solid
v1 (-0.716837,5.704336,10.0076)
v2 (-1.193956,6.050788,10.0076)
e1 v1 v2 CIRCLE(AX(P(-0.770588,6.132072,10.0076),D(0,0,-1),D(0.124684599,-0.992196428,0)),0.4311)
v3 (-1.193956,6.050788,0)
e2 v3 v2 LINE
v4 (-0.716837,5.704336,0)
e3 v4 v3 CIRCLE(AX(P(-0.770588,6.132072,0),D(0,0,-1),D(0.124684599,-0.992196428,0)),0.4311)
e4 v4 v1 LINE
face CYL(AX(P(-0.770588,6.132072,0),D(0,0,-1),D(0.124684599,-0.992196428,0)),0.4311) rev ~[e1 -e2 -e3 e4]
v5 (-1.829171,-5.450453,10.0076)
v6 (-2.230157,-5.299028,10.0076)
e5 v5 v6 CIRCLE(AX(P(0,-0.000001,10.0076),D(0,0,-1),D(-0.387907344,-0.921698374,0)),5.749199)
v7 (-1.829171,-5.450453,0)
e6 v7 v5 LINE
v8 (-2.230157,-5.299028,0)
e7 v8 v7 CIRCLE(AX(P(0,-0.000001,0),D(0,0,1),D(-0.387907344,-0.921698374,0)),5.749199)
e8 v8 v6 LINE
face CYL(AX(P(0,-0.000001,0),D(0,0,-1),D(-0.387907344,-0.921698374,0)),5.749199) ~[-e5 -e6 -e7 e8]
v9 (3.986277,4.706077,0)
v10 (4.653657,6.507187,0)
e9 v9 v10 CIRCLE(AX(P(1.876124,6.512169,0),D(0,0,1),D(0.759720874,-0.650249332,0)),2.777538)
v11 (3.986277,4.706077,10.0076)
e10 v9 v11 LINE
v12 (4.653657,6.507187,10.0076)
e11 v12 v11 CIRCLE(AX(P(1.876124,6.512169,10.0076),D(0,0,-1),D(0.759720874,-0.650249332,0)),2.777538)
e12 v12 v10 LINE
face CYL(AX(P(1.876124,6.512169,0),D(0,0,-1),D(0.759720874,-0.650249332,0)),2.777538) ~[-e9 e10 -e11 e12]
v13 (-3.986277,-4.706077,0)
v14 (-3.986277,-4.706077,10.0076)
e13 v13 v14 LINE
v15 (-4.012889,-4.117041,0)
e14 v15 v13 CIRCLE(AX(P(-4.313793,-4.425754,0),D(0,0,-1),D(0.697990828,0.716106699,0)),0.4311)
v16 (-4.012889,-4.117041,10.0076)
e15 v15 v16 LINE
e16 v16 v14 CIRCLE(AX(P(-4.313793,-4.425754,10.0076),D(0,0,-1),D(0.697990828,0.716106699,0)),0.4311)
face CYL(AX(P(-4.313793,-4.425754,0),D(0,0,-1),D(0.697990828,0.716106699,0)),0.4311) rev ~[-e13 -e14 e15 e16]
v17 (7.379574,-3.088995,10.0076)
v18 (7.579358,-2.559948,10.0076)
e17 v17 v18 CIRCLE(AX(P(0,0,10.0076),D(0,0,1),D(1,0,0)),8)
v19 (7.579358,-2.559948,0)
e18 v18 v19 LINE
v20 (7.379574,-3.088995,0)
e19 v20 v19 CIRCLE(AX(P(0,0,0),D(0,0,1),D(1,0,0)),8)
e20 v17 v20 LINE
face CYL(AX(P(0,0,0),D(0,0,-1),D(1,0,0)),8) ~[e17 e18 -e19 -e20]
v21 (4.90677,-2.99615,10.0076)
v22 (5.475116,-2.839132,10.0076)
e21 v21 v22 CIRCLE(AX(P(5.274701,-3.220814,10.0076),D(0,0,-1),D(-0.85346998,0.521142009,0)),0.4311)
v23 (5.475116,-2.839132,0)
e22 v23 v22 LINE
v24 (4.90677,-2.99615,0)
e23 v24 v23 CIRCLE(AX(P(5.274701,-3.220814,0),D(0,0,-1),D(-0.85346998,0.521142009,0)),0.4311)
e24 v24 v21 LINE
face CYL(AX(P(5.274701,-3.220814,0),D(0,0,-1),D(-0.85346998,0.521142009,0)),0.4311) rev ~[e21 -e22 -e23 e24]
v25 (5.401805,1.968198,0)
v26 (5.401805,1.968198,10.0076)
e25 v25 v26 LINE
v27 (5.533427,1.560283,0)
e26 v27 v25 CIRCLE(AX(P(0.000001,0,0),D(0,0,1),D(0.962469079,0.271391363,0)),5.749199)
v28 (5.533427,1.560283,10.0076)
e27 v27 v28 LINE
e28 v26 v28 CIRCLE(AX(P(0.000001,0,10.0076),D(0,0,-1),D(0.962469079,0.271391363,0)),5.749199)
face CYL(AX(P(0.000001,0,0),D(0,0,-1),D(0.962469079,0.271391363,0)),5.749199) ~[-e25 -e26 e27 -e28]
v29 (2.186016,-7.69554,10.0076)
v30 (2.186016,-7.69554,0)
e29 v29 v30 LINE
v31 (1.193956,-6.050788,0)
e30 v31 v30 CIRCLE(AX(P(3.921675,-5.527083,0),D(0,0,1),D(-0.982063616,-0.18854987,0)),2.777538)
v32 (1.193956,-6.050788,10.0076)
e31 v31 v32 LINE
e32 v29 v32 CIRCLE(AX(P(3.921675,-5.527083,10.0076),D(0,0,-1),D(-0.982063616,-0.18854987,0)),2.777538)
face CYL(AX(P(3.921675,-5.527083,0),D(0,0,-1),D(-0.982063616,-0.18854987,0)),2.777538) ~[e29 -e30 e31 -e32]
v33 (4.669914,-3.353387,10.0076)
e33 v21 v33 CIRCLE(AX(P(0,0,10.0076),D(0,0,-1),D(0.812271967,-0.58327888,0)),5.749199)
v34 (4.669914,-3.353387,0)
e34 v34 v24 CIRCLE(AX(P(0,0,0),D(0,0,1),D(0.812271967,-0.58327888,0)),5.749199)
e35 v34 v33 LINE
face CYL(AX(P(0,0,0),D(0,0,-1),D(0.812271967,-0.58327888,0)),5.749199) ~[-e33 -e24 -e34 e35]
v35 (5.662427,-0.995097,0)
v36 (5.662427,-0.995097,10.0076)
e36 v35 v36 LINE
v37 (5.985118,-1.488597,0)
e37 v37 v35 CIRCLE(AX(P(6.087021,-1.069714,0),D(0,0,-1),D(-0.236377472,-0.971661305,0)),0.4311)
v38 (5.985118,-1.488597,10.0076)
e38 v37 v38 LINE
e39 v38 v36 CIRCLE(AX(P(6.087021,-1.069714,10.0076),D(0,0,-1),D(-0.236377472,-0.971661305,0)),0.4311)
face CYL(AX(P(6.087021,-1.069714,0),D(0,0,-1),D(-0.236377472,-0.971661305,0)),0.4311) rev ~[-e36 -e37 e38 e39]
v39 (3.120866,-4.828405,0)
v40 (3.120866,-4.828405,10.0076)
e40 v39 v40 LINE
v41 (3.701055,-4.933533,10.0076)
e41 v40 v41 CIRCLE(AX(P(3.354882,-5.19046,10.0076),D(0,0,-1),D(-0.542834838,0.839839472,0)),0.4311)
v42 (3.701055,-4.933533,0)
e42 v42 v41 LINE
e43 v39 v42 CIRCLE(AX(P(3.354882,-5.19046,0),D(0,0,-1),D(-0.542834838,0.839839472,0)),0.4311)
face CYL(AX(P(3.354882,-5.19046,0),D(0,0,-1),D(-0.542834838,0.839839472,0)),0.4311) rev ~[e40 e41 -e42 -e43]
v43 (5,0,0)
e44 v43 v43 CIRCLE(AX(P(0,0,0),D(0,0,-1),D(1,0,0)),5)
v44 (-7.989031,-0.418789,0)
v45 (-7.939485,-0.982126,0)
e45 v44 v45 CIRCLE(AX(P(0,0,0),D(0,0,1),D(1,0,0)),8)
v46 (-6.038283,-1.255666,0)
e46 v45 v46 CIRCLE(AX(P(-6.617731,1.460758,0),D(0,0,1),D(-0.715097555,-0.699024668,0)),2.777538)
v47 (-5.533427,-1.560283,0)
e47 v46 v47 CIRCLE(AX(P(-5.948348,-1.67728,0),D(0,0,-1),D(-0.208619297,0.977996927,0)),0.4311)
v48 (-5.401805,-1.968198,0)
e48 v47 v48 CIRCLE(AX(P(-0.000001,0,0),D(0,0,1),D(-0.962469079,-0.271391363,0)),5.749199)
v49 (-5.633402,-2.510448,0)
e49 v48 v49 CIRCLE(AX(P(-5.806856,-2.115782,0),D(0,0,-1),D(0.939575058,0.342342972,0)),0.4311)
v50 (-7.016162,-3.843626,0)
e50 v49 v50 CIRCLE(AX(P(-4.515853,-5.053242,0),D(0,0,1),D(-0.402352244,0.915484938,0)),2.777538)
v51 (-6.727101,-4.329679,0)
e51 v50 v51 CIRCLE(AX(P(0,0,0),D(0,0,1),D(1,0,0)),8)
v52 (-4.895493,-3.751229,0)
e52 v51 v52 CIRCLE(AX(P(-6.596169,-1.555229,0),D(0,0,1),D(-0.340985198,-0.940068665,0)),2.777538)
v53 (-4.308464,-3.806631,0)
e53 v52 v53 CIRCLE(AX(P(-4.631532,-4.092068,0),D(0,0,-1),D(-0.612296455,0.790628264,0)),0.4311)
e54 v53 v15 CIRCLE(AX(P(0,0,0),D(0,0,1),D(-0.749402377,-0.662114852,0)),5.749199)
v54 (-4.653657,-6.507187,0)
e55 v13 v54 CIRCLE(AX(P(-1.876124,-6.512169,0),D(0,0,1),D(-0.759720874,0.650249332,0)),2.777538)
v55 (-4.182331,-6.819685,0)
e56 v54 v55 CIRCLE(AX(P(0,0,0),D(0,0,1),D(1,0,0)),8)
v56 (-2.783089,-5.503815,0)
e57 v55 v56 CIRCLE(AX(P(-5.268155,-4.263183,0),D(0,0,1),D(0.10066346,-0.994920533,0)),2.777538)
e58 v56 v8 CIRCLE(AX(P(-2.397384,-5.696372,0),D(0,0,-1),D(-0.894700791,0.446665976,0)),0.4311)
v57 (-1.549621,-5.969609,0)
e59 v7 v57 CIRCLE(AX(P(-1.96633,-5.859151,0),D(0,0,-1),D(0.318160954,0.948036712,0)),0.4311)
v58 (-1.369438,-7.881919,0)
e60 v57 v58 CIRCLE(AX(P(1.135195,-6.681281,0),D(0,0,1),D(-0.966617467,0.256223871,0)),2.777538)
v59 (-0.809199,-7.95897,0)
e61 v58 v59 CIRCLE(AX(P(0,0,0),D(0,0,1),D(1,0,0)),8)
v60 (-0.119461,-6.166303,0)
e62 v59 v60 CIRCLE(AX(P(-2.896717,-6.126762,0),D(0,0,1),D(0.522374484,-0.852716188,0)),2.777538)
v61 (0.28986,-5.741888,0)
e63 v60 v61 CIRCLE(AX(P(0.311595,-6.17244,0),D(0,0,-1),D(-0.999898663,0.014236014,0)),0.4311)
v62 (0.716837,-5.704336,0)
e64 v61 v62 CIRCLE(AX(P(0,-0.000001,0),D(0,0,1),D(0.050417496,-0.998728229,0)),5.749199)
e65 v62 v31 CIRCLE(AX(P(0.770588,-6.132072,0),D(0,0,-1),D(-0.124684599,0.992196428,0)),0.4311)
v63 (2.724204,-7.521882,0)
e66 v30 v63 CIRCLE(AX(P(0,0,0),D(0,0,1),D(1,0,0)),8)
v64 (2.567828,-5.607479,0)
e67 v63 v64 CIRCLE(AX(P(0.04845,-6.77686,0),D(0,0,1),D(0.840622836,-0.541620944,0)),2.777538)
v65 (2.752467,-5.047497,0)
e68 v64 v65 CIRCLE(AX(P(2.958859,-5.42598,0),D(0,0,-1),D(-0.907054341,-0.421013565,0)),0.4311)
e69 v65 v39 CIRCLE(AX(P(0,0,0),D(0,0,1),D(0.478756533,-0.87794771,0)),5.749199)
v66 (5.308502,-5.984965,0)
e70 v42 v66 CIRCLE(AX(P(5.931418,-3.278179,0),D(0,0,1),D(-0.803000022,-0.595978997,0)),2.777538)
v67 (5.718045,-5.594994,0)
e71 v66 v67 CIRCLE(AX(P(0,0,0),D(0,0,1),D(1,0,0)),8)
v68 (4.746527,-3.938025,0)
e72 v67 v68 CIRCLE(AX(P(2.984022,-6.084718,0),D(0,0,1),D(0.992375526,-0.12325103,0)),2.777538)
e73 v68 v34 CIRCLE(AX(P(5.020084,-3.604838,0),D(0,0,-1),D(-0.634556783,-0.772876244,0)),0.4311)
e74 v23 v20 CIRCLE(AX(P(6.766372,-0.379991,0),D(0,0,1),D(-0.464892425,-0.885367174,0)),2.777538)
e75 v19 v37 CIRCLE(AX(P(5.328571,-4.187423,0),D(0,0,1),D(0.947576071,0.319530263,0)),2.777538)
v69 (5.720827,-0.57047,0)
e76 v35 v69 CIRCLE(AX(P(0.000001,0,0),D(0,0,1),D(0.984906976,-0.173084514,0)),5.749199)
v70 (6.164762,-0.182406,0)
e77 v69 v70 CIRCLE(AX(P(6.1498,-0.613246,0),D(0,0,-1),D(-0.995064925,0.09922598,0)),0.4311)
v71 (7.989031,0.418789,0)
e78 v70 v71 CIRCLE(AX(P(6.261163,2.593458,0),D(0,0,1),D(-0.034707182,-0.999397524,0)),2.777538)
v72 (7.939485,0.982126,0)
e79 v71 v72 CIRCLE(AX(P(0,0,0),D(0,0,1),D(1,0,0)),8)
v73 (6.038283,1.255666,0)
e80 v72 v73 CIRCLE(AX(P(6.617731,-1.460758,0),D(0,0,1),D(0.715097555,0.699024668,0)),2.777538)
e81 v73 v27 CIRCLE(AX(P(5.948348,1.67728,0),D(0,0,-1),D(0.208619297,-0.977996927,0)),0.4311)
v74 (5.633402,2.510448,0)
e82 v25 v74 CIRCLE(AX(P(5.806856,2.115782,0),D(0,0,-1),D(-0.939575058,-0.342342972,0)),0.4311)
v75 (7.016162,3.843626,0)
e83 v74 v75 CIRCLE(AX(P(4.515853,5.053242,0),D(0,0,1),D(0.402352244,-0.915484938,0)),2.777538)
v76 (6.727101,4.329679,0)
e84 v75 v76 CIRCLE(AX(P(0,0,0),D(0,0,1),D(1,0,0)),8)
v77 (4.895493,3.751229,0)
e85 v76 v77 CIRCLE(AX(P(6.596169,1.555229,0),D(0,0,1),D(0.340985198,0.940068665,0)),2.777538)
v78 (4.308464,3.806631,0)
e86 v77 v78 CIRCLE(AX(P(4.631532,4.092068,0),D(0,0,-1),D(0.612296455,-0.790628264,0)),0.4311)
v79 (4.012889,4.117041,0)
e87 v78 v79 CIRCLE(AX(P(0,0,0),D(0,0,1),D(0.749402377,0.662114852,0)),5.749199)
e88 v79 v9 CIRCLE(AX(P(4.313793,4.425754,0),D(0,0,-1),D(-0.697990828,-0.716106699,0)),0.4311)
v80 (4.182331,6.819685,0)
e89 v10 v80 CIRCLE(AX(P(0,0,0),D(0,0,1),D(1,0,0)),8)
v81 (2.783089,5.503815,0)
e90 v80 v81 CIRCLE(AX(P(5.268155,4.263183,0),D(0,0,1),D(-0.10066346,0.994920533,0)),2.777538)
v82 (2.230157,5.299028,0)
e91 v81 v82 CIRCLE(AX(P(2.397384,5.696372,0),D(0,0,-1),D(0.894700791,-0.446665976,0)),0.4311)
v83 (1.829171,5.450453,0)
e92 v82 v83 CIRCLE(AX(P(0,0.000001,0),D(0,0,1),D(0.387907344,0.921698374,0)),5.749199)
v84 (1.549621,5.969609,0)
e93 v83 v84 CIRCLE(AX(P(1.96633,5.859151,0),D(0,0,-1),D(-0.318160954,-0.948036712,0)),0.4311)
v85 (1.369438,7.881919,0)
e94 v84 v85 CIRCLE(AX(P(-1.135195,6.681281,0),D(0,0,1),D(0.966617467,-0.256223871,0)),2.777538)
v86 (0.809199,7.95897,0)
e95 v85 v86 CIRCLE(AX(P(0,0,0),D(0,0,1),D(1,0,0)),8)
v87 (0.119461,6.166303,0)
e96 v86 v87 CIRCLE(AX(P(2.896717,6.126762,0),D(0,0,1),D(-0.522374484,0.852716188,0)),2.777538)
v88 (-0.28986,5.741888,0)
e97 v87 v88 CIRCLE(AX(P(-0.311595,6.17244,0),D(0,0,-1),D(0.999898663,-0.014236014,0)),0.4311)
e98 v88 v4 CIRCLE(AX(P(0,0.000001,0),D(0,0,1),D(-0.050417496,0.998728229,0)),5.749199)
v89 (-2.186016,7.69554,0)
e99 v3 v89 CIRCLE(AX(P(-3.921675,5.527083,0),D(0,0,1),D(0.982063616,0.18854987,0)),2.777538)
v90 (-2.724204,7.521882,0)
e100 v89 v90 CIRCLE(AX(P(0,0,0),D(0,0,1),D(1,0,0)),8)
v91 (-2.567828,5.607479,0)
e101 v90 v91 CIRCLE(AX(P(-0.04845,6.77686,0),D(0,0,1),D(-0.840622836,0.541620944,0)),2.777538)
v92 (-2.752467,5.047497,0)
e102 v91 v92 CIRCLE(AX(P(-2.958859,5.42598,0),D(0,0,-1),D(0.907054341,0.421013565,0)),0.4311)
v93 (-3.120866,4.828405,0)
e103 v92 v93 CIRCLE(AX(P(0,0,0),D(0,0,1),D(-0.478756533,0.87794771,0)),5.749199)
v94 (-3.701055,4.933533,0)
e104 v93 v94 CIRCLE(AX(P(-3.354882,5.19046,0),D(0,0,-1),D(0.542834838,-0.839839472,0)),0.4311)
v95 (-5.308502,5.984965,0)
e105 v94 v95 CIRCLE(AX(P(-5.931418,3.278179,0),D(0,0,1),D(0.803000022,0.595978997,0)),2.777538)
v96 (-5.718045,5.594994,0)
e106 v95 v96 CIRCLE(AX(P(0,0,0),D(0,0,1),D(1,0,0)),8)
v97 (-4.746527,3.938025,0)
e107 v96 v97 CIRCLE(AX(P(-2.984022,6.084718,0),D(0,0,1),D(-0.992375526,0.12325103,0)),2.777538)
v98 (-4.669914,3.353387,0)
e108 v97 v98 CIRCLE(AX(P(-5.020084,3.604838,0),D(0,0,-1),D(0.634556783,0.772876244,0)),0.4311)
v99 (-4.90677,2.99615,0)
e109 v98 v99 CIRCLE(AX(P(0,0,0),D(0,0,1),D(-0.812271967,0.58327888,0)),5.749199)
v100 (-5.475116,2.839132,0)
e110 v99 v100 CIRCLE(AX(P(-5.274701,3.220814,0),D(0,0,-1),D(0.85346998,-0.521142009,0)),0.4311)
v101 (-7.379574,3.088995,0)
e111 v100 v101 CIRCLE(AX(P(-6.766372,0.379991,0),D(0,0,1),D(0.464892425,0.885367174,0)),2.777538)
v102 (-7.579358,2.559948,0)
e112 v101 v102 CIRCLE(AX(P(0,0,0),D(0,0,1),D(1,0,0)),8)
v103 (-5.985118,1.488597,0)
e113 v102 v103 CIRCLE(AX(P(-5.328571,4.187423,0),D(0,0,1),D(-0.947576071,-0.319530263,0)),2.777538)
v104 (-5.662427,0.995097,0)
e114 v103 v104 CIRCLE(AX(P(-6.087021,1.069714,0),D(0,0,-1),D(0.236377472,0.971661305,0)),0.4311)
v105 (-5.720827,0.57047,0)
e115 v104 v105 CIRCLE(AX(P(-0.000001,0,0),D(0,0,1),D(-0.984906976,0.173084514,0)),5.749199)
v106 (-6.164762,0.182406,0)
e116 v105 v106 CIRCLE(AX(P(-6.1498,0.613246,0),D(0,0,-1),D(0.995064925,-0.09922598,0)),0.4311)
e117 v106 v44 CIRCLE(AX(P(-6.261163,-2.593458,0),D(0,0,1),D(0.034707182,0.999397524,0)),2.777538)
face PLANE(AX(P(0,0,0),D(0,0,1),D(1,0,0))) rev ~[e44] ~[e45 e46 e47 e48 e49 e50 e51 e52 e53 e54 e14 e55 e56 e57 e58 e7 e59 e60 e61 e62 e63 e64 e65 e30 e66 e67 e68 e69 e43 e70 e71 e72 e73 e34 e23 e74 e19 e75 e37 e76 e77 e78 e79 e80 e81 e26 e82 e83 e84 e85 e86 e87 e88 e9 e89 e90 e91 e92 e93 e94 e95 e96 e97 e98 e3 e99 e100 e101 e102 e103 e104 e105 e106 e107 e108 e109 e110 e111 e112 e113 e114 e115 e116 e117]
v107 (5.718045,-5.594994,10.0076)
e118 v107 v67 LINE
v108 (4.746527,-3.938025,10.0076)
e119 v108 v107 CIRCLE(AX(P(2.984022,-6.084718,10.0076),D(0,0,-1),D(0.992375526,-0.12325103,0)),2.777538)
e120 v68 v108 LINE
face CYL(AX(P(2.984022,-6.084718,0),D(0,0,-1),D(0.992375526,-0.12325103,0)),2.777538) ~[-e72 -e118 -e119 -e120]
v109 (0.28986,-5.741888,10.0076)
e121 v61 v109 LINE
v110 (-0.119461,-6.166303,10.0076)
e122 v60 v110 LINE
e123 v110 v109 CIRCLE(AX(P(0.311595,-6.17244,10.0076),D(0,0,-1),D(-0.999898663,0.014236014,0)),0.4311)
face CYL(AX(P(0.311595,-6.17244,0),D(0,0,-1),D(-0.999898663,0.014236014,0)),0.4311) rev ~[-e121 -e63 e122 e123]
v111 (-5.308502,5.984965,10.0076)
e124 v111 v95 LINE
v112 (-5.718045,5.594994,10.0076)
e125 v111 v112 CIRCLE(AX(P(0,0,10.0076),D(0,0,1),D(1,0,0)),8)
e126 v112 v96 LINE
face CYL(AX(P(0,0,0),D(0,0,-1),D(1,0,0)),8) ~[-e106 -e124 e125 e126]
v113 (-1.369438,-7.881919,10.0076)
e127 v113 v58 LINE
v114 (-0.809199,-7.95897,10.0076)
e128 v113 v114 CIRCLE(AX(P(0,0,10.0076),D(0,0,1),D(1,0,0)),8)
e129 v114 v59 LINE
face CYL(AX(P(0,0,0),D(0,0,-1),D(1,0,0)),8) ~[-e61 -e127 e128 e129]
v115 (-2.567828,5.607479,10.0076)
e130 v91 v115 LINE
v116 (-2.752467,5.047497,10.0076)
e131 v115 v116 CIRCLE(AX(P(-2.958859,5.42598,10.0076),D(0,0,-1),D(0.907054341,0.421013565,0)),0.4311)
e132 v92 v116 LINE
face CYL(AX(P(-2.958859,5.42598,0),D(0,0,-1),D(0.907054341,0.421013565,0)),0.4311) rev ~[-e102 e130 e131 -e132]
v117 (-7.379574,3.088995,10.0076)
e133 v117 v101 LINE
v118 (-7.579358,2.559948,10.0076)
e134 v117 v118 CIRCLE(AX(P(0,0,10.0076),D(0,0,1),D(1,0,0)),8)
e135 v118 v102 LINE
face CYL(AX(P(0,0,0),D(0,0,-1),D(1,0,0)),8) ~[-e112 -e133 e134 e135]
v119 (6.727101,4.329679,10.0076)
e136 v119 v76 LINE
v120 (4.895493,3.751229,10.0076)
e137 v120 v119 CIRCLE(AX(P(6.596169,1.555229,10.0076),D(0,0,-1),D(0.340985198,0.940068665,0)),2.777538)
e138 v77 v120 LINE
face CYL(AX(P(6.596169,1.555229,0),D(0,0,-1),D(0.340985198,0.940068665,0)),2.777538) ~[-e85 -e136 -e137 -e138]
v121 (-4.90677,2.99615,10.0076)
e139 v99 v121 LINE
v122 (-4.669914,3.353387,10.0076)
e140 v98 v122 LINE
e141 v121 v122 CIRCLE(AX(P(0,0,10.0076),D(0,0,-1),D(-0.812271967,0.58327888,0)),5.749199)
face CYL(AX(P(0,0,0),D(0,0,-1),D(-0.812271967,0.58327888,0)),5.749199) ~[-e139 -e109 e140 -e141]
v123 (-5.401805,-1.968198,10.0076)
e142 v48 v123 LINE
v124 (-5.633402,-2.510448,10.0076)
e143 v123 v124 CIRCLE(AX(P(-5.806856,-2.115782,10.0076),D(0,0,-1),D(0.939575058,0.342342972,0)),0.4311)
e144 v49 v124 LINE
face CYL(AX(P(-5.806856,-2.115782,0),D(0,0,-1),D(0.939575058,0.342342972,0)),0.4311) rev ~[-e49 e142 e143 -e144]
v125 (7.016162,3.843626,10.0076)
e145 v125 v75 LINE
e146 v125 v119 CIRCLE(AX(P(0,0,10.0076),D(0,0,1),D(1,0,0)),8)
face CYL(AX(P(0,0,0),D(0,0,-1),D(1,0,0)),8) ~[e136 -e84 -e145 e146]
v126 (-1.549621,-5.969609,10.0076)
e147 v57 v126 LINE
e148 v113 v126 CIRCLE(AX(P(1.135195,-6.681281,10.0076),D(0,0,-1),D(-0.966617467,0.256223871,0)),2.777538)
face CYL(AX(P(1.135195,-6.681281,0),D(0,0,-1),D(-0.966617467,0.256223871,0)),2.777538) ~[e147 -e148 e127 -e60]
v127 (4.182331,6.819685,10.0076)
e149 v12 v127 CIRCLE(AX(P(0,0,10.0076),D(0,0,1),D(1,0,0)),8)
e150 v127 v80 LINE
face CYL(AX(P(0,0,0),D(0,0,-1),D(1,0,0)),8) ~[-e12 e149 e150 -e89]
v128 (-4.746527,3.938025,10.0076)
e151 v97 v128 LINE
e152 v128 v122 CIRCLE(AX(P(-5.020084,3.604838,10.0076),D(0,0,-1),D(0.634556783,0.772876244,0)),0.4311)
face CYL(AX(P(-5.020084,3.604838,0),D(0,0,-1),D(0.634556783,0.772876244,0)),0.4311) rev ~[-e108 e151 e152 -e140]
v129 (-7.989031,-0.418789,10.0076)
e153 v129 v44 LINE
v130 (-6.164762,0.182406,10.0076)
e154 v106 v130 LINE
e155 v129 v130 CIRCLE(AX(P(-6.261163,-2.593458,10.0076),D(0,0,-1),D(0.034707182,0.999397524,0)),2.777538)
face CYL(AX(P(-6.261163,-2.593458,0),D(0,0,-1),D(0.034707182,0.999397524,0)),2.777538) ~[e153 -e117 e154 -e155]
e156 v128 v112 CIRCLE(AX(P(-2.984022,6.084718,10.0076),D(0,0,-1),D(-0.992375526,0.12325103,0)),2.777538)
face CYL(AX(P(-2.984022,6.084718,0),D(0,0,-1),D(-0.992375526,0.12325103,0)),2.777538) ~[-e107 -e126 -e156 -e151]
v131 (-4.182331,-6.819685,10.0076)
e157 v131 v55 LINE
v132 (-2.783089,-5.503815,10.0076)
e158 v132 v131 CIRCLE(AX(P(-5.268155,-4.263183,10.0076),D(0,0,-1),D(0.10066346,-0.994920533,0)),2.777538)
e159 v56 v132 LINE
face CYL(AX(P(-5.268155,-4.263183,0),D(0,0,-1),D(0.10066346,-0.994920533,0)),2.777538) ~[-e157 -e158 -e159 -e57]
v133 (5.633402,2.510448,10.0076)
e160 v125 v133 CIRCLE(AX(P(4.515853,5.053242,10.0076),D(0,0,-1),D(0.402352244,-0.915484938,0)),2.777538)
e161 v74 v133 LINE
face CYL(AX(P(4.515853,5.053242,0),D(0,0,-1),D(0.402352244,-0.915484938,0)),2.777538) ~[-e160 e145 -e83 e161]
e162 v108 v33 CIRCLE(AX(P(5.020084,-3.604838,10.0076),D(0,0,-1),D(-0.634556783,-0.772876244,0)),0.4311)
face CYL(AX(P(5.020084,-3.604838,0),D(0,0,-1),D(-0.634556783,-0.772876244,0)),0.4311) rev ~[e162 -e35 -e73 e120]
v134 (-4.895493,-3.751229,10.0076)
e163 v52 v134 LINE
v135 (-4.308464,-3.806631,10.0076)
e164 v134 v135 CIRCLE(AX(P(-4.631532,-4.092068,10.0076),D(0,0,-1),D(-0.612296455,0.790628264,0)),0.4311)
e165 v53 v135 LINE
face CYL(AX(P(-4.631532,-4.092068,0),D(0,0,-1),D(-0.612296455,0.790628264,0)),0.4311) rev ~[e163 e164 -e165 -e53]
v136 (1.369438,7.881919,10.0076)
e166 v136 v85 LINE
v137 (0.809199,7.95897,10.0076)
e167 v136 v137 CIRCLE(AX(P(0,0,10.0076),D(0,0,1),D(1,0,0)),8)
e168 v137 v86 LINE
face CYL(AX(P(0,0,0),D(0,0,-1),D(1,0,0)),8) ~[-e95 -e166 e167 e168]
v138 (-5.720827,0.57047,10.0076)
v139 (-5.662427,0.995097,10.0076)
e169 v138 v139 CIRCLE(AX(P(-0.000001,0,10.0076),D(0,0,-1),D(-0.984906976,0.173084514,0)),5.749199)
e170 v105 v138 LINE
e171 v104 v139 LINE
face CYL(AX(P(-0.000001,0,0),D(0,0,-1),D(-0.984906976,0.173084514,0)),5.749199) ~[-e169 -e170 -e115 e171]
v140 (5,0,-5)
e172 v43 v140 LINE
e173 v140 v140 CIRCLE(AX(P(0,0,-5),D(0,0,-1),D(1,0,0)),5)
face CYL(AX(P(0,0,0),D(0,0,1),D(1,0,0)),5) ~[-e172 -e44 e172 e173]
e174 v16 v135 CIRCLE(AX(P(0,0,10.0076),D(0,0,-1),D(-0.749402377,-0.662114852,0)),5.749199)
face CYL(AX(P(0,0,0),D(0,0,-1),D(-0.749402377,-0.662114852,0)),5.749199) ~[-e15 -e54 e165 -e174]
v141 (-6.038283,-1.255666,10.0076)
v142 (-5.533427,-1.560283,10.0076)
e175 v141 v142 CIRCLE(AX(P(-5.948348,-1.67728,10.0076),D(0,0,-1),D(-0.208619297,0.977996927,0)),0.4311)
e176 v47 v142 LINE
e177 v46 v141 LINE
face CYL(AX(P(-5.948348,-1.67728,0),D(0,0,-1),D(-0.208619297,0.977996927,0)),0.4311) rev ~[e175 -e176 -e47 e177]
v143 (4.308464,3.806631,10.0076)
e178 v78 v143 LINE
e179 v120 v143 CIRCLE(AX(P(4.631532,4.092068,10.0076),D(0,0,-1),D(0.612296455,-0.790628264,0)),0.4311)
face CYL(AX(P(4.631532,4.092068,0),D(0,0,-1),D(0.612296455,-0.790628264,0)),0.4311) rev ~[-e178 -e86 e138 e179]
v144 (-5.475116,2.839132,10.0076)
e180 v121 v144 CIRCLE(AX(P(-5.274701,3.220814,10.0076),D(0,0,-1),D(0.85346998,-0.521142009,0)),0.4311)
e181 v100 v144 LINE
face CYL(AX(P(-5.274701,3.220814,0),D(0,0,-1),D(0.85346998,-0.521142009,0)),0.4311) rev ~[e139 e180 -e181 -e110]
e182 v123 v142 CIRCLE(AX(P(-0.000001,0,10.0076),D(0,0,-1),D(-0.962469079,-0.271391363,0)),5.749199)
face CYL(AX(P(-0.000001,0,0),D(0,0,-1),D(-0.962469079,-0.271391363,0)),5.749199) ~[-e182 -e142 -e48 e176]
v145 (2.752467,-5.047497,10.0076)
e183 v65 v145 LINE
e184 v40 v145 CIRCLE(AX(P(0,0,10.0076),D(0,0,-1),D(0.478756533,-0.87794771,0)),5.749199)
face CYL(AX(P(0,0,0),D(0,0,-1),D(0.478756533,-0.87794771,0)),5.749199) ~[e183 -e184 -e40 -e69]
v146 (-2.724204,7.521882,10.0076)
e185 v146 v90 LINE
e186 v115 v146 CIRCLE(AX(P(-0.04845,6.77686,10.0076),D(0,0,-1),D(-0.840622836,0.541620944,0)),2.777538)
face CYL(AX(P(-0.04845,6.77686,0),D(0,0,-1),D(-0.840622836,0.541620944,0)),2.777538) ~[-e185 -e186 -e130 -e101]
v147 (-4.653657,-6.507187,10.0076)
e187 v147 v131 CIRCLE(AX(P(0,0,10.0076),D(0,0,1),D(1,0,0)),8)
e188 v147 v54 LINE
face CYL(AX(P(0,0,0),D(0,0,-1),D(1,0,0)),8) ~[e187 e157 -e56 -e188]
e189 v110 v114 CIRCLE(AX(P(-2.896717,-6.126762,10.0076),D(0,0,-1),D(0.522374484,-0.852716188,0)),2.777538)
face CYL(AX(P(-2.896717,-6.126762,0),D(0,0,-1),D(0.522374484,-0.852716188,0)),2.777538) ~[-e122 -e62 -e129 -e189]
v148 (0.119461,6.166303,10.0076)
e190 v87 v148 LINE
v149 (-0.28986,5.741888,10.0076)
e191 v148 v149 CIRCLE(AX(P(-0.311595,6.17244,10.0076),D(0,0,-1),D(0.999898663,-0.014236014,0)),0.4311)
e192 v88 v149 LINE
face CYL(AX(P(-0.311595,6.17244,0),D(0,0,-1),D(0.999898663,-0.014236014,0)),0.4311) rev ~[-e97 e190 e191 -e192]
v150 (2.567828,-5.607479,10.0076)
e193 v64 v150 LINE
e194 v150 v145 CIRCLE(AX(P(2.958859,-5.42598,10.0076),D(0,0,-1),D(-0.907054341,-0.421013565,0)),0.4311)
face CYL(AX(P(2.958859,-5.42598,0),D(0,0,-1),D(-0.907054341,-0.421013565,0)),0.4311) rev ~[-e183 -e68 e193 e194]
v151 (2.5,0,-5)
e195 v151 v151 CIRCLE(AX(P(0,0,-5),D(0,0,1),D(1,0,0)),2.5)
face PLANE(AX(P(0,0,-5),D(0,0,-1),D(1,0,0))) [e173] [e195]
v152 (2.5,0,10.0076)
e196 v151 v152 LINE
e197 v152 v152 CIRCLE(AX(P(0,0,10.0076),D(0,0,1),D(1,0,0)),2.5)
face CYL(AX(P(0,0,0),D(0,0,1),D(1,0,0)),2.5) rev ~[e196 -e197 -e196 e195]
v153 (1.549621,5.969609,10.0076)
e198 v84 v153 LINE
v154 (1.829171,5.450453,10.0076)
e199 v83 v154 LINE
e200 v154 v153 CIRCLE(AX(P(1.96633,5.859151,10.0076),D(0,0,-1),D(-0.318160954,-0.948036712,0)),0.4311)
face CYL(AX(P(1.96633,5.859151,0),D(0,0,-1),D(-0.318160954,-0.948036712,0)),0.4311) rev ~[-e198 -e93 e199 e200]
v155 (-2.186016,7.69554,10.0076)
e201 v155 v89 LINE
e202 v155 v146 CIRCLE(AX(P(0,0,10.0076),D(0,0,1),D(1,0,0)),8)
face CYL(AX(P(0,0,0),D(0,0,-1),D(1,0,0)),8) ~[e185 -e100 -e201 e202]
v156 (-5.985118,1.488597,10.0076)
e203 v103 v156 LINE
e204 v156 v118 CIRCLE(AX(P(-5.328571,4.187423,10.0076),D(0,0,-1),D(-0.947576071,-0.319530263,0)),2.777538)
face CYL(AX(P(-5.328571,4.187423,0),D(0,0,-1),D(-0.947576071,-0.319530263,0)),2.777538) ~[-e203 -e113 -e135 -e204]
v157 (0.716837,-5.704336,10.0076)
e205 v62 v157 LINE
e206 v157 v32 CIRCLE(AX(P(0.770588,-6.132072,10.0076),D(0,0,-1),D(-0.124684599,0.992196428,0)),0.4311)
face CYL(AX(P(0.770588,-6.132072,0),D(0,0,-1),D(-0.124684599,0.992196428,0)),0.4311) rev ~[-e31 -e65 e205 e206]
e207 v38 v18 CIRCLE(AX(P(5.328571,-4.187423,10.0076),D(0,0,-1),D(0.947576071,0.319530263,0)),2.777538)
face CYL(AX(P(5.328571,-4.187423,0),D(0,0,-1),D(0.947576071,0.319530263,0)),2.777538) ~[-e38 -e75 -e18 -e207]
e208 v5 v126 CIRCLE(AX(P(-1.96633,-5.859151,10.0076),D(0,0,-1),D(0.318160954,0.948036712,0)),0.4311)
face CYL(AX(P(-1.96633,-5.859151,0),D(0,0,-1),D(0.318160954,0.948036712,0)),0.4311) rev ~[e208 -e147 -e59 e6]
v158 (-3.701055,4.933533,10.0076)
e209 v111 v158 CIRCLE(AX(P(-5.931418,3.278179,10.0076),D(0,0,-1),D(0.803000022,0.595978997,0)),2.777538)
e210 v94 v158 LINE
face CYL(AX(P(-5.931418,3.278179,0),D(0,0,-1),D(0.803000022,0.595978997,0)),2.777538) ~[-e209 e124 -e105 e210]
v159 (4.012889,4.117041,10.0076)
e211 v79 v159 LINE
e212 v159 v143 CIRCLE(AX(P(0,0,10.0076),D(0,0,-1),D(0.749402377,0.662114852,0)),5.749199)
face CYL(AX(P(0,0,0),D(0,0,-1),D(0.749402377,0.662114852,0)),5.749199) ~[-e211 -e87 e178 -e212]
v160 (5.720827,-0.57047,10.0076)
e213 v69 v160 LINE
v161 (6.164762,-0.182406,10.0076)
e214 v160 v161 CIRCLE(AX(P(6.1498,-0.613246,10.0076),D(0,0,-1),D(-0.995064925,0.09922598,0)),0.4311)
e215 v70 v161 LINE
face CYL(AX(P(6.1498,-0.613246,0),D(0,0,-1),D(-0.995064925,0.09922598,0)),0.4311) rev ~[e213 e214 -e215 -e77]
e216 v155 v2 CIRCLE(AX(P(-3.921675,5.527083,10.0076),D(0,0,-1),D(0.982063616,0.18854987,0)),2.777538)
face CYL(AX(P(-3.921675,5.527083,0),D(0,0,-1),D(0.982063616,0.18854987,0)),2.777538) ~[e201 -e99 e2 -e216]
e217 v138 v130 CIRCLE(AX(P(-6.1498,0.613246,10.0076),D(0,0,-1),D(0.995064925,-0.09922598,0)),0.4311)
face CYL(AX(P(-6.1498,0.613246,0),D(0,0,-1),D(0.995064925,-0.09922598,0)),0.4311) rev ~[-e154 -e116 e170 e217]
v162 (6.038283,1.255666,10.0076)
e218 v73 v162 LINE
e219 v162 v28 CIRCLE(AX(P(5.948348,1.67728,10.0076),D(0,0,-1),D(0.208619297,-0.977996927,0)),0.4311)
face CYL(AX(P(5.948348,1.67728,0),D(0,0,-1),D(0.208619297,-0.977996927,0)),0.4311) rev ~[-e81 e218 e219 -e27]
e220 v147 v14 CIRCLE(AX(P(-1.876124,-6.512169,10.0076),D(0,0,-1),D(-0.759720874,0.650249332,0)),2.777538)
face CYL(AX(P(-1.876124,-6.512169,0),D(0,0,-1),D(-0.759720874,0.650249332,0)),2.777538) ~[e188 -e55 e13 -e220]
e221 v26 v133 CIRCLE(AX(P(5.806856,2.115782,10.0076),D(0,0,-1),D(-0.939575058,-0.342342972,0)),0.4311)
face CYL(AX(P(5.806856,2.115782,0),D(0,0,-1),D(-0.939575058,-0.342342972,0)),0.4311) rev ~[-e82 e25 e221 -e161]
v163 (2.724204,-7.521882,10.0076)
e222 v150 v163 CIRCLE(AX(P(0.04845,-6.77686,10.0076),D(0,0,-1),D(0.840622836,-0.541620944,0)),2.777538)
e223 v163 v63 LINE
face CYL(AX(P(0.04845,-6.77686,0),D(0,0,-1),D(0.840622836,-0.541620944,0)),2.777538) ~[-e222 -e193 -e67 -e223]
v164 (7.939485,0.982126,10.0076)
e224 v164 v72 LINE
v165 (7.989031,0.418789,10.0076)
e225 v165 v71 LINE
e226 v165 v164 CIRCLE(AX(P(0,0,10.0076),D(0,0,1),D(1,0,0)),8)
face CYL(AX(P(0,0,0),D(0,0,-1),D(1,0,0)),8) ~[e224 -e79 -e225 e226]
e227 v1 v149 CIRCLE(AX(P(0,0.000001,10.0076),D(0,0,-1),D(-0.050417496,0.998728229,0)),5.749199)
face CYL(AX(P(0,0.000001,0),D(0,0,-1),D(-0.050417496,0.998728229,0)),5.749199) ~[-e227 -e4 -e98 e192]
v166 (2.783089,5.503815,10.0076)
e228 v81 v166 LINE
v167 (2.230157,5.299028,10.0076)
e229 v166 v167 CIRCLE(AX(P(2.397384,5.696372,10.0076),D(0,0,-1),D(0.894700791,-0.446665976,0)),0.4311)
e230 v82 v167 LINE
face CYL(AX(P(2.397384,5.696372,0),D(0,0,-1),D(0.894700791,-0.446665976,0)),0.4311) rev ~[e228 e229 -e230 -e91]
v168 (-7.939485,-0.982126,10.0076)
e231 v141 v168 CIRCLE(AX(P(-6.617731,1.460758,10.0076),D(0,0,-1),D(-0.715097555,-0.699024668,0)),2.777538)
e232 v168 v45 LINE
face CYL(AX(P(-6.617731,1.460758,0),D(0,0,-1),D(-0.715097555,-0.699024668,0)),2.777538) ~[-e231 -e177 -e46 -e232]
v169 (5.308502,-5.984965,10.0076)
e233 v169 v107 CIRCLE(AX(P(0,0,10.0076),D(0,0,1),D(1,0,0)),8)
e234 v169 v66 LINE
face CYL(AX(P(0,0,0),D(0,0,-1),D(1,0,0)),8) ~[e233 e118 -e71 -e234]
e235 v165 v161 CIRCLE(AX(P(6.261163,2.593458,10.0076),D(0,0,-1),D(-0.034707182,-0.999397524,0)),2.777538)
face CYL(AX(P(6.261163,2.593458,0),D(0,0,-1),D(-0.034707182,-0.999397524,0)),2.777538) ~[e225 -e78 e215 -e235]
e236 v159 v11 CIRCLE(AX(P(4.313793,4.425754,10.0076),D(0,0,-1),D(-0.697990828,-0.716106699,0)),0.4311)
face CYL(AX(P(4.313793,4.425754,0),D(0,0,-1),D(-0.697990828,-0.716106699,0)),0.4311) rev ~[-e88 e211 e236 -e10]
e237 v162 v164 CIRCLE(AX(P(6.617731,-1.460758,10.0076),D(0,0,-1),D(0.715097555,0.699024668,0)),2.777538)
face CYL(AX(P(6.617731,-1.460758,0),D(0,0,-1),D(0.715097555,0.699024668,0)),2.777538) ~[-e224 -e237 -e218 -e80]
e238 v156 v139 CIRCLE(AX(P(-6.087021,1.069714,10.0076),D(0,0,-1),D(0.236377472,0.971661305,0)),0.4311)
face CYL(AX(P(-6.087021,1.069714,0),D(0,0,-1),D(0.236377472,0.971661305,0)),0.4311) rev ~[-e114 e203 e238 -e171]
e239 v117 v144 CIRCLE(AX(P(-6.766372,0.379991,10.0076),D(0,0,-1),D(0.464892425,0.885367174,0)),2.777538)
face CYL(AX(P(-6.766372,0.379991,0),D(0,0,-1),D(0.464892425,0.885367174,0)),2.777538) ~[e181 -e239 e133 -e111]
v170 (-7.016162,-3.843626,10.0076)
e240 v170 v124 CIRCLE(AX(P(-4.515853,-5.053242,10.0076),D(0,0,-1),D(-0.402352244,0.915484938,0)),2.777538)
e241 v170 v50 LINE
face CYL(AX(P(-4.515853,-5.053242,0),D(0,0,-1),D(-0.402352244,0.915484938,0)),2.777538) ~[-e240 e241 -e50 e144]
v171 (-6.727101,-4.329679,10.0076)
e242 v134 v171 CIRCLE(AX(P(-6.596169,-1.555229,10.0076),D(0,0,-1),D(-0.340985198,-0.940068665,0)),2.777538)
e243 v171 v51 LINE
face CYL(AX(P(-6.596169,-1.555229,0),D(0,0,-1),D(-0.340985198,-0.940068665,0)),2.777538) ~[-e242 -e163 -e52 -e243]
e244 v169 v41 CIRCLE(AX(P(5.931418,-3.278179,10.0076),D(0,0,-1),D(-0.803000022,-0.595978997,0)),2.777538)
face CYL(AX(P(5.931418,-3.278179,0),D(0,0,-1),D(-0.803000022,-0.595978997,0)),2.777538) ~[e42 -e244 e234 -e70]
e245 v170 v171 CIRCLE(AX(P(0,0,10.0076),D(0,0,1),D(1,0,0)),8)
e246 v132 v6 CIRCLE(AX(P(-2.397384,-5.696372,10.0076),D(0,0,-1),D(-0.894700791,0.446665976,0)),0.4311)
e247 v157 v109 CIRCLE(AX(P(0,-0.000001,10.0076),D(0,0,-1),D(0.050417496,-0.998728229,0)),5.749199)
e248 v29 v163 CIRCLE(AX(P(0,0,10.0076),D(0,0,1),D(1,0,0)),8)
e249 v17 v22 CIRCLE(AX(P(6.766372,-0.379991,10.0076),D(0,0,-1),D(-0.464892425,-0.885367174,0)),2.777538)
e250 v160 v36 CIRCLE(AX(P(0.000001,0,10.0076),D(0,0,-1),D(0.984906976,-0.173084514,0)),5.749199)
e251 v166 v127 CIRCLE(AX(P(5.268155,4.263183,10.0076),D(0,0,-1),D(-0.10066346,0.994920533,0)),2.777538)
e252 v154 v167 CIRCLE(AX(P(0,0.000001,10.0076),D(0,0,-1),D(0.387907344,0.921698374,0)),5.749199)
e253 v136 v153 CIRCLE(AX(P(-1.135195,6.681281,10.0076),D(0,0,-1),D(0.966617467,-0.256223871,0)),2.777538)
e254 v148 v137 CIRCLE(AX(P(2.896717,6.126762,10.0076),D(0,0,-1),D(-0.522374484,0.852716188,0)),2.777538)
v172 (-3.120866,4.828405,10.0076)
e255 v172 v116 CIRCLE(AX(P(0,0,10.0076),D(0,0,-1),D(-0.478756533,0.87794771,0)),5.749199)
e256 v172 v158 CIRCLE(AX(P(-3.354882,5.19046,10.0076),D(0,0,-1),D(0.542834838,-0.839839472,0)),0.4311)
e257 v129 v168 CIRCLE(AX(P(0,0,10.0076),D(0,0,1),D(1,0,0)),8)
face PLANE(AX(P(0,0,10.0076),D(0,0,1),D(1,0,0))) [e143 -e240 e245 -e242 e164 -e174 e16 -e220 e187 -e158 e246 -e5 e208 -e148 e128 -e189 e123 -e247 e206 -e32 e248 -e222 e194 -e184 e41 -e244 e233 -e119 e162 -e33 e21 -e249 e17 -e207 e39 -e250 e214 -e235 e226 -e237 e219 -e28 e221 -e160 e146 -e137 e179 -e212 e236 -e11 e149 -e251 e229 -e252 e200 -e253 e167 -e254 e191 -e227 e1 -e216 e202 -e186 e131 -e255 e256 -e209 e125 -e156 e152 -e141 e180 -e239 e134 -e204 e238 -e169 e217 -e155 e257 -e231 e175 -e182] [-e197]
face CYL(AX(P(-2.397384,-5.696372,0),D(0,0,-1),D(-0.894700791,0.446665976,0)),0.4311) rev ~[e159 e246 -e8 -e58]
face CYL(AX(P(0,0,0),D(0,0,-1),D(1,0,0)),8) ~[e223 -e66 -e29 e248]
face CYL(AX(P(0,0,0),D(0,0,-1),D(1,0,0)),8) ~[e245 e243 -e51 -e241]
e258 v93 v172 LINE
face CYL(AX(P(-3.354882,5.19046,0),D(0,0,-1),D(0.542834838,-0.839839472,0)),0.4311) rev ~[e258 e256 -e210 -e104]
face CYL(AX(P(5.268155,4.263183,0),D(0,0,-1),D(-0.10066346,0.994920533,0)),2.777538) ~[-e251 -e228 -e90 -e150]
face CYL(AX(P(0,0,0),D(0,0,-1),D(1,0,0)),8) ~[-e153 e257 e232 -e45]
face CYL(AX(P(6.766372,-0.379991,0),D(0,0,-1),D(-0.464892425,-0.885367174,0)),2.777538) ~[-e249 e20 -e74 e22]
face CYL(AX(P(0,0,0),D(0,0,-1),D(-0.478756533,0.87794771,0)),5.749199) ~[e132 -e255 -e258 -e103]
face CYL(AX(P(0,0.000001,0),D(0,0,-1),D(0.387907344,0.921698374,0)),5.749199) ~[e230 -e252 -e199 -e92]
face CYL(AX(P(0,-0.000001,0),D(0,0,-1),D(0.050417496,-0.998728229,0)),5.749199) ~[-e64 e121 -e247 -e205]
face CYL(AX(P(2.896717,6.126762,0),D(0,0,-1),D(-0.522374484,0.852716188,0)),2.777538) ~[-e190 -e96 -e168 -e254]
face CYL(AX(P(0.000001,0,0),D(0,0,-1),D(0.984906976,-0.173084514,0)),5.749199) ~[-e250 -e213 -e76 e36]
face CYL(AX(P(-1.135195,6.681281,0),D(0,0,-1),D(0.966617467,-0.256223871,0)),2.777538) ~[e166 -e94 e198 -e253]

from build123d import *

# Parameters (mm, degrees)
SKETCH3_R         = 8
GEARBODY_DEPTH    = 10.007599831
TOOTHCUT_DEPTH    = 16.104703055
CIRPATTERN1_COUNT = 14
HUB1DIA_R         = 5
HUB1_DEPTH        = 5
BOREDIA_R         = 2.5
BORE_DEPTH        = 12700


with BuildPart() as part:
    # Sketch3 → gearBody (new body)
    with BuildSketch(Plane.XY):
        Circle(SKETCH3_R)
    extrude(amount=GEARBODY_DEPTH)

    # Sketch2 → toothCut (cut, through all)
    with BuildSketch(Plane.XY):
        with BuildLine():
            ThreePointArc((5.662427188, -0.995097475), (5.695585801, -0.783328174), (5.720827266, -0.570470007))
            ThreePointArc((5.720827266, -0.570470007), (5.866075375, -0.288673244), (6.164762022, -0.182406054))
            ThreePointArc((6.164762022, -0.182406054), (7.515972831, 0.115522232), (8.555782136, 1.028390528))
            ThreePointArc((8.555782136, 1.028390528), (8.537004601, -1.174115615), (7.960499295, -3.29991606))
            ThreePointArc((7.960499295, -3.29991606), (7.205732855, -2.14023527), (5.985118257, -1.488597397))
            ThreePointArc((5.985118257, -1.488597397), (5.726209027, -1.30564265), (5.662427188, -0.995097475))
        make_face()
    toothcut = extrude(amount=TOOTHCUT_DEPTH, mode=Mode.SUBTRACT)

    # CirPattern1: toothCut ×14 about axis
    cirpattern1_axis = Axis((0, 0, 10.007599831), (0, 0, -1))
    for i in range(1, CIRPATTERN1_COUNT):
        add(toothcut.rotate(cirpattern1_axis, i * 360 / CIRPATTERN1_COUNT), mode=Mode.SUBTRACT)

    # hub1Dia → hub1 (add)
    with BuildSketch(Plane(origin=(0, 0, 0), x_dir=(-1, 0, 0), z_dir=(0, 0, -1))):
        Circle(HUB1DIA_R)
    extrude(amount=HUB1_DEPTH)

    # boreDia → bore (cut, symmetric)
    with BuildSketch(Plane.XY):
        Circle(BOREDIA_R)
    extrude(amount=BORE_DEPTH, both=True, mode=Mode.SUBTRACT)


solid = part.part
